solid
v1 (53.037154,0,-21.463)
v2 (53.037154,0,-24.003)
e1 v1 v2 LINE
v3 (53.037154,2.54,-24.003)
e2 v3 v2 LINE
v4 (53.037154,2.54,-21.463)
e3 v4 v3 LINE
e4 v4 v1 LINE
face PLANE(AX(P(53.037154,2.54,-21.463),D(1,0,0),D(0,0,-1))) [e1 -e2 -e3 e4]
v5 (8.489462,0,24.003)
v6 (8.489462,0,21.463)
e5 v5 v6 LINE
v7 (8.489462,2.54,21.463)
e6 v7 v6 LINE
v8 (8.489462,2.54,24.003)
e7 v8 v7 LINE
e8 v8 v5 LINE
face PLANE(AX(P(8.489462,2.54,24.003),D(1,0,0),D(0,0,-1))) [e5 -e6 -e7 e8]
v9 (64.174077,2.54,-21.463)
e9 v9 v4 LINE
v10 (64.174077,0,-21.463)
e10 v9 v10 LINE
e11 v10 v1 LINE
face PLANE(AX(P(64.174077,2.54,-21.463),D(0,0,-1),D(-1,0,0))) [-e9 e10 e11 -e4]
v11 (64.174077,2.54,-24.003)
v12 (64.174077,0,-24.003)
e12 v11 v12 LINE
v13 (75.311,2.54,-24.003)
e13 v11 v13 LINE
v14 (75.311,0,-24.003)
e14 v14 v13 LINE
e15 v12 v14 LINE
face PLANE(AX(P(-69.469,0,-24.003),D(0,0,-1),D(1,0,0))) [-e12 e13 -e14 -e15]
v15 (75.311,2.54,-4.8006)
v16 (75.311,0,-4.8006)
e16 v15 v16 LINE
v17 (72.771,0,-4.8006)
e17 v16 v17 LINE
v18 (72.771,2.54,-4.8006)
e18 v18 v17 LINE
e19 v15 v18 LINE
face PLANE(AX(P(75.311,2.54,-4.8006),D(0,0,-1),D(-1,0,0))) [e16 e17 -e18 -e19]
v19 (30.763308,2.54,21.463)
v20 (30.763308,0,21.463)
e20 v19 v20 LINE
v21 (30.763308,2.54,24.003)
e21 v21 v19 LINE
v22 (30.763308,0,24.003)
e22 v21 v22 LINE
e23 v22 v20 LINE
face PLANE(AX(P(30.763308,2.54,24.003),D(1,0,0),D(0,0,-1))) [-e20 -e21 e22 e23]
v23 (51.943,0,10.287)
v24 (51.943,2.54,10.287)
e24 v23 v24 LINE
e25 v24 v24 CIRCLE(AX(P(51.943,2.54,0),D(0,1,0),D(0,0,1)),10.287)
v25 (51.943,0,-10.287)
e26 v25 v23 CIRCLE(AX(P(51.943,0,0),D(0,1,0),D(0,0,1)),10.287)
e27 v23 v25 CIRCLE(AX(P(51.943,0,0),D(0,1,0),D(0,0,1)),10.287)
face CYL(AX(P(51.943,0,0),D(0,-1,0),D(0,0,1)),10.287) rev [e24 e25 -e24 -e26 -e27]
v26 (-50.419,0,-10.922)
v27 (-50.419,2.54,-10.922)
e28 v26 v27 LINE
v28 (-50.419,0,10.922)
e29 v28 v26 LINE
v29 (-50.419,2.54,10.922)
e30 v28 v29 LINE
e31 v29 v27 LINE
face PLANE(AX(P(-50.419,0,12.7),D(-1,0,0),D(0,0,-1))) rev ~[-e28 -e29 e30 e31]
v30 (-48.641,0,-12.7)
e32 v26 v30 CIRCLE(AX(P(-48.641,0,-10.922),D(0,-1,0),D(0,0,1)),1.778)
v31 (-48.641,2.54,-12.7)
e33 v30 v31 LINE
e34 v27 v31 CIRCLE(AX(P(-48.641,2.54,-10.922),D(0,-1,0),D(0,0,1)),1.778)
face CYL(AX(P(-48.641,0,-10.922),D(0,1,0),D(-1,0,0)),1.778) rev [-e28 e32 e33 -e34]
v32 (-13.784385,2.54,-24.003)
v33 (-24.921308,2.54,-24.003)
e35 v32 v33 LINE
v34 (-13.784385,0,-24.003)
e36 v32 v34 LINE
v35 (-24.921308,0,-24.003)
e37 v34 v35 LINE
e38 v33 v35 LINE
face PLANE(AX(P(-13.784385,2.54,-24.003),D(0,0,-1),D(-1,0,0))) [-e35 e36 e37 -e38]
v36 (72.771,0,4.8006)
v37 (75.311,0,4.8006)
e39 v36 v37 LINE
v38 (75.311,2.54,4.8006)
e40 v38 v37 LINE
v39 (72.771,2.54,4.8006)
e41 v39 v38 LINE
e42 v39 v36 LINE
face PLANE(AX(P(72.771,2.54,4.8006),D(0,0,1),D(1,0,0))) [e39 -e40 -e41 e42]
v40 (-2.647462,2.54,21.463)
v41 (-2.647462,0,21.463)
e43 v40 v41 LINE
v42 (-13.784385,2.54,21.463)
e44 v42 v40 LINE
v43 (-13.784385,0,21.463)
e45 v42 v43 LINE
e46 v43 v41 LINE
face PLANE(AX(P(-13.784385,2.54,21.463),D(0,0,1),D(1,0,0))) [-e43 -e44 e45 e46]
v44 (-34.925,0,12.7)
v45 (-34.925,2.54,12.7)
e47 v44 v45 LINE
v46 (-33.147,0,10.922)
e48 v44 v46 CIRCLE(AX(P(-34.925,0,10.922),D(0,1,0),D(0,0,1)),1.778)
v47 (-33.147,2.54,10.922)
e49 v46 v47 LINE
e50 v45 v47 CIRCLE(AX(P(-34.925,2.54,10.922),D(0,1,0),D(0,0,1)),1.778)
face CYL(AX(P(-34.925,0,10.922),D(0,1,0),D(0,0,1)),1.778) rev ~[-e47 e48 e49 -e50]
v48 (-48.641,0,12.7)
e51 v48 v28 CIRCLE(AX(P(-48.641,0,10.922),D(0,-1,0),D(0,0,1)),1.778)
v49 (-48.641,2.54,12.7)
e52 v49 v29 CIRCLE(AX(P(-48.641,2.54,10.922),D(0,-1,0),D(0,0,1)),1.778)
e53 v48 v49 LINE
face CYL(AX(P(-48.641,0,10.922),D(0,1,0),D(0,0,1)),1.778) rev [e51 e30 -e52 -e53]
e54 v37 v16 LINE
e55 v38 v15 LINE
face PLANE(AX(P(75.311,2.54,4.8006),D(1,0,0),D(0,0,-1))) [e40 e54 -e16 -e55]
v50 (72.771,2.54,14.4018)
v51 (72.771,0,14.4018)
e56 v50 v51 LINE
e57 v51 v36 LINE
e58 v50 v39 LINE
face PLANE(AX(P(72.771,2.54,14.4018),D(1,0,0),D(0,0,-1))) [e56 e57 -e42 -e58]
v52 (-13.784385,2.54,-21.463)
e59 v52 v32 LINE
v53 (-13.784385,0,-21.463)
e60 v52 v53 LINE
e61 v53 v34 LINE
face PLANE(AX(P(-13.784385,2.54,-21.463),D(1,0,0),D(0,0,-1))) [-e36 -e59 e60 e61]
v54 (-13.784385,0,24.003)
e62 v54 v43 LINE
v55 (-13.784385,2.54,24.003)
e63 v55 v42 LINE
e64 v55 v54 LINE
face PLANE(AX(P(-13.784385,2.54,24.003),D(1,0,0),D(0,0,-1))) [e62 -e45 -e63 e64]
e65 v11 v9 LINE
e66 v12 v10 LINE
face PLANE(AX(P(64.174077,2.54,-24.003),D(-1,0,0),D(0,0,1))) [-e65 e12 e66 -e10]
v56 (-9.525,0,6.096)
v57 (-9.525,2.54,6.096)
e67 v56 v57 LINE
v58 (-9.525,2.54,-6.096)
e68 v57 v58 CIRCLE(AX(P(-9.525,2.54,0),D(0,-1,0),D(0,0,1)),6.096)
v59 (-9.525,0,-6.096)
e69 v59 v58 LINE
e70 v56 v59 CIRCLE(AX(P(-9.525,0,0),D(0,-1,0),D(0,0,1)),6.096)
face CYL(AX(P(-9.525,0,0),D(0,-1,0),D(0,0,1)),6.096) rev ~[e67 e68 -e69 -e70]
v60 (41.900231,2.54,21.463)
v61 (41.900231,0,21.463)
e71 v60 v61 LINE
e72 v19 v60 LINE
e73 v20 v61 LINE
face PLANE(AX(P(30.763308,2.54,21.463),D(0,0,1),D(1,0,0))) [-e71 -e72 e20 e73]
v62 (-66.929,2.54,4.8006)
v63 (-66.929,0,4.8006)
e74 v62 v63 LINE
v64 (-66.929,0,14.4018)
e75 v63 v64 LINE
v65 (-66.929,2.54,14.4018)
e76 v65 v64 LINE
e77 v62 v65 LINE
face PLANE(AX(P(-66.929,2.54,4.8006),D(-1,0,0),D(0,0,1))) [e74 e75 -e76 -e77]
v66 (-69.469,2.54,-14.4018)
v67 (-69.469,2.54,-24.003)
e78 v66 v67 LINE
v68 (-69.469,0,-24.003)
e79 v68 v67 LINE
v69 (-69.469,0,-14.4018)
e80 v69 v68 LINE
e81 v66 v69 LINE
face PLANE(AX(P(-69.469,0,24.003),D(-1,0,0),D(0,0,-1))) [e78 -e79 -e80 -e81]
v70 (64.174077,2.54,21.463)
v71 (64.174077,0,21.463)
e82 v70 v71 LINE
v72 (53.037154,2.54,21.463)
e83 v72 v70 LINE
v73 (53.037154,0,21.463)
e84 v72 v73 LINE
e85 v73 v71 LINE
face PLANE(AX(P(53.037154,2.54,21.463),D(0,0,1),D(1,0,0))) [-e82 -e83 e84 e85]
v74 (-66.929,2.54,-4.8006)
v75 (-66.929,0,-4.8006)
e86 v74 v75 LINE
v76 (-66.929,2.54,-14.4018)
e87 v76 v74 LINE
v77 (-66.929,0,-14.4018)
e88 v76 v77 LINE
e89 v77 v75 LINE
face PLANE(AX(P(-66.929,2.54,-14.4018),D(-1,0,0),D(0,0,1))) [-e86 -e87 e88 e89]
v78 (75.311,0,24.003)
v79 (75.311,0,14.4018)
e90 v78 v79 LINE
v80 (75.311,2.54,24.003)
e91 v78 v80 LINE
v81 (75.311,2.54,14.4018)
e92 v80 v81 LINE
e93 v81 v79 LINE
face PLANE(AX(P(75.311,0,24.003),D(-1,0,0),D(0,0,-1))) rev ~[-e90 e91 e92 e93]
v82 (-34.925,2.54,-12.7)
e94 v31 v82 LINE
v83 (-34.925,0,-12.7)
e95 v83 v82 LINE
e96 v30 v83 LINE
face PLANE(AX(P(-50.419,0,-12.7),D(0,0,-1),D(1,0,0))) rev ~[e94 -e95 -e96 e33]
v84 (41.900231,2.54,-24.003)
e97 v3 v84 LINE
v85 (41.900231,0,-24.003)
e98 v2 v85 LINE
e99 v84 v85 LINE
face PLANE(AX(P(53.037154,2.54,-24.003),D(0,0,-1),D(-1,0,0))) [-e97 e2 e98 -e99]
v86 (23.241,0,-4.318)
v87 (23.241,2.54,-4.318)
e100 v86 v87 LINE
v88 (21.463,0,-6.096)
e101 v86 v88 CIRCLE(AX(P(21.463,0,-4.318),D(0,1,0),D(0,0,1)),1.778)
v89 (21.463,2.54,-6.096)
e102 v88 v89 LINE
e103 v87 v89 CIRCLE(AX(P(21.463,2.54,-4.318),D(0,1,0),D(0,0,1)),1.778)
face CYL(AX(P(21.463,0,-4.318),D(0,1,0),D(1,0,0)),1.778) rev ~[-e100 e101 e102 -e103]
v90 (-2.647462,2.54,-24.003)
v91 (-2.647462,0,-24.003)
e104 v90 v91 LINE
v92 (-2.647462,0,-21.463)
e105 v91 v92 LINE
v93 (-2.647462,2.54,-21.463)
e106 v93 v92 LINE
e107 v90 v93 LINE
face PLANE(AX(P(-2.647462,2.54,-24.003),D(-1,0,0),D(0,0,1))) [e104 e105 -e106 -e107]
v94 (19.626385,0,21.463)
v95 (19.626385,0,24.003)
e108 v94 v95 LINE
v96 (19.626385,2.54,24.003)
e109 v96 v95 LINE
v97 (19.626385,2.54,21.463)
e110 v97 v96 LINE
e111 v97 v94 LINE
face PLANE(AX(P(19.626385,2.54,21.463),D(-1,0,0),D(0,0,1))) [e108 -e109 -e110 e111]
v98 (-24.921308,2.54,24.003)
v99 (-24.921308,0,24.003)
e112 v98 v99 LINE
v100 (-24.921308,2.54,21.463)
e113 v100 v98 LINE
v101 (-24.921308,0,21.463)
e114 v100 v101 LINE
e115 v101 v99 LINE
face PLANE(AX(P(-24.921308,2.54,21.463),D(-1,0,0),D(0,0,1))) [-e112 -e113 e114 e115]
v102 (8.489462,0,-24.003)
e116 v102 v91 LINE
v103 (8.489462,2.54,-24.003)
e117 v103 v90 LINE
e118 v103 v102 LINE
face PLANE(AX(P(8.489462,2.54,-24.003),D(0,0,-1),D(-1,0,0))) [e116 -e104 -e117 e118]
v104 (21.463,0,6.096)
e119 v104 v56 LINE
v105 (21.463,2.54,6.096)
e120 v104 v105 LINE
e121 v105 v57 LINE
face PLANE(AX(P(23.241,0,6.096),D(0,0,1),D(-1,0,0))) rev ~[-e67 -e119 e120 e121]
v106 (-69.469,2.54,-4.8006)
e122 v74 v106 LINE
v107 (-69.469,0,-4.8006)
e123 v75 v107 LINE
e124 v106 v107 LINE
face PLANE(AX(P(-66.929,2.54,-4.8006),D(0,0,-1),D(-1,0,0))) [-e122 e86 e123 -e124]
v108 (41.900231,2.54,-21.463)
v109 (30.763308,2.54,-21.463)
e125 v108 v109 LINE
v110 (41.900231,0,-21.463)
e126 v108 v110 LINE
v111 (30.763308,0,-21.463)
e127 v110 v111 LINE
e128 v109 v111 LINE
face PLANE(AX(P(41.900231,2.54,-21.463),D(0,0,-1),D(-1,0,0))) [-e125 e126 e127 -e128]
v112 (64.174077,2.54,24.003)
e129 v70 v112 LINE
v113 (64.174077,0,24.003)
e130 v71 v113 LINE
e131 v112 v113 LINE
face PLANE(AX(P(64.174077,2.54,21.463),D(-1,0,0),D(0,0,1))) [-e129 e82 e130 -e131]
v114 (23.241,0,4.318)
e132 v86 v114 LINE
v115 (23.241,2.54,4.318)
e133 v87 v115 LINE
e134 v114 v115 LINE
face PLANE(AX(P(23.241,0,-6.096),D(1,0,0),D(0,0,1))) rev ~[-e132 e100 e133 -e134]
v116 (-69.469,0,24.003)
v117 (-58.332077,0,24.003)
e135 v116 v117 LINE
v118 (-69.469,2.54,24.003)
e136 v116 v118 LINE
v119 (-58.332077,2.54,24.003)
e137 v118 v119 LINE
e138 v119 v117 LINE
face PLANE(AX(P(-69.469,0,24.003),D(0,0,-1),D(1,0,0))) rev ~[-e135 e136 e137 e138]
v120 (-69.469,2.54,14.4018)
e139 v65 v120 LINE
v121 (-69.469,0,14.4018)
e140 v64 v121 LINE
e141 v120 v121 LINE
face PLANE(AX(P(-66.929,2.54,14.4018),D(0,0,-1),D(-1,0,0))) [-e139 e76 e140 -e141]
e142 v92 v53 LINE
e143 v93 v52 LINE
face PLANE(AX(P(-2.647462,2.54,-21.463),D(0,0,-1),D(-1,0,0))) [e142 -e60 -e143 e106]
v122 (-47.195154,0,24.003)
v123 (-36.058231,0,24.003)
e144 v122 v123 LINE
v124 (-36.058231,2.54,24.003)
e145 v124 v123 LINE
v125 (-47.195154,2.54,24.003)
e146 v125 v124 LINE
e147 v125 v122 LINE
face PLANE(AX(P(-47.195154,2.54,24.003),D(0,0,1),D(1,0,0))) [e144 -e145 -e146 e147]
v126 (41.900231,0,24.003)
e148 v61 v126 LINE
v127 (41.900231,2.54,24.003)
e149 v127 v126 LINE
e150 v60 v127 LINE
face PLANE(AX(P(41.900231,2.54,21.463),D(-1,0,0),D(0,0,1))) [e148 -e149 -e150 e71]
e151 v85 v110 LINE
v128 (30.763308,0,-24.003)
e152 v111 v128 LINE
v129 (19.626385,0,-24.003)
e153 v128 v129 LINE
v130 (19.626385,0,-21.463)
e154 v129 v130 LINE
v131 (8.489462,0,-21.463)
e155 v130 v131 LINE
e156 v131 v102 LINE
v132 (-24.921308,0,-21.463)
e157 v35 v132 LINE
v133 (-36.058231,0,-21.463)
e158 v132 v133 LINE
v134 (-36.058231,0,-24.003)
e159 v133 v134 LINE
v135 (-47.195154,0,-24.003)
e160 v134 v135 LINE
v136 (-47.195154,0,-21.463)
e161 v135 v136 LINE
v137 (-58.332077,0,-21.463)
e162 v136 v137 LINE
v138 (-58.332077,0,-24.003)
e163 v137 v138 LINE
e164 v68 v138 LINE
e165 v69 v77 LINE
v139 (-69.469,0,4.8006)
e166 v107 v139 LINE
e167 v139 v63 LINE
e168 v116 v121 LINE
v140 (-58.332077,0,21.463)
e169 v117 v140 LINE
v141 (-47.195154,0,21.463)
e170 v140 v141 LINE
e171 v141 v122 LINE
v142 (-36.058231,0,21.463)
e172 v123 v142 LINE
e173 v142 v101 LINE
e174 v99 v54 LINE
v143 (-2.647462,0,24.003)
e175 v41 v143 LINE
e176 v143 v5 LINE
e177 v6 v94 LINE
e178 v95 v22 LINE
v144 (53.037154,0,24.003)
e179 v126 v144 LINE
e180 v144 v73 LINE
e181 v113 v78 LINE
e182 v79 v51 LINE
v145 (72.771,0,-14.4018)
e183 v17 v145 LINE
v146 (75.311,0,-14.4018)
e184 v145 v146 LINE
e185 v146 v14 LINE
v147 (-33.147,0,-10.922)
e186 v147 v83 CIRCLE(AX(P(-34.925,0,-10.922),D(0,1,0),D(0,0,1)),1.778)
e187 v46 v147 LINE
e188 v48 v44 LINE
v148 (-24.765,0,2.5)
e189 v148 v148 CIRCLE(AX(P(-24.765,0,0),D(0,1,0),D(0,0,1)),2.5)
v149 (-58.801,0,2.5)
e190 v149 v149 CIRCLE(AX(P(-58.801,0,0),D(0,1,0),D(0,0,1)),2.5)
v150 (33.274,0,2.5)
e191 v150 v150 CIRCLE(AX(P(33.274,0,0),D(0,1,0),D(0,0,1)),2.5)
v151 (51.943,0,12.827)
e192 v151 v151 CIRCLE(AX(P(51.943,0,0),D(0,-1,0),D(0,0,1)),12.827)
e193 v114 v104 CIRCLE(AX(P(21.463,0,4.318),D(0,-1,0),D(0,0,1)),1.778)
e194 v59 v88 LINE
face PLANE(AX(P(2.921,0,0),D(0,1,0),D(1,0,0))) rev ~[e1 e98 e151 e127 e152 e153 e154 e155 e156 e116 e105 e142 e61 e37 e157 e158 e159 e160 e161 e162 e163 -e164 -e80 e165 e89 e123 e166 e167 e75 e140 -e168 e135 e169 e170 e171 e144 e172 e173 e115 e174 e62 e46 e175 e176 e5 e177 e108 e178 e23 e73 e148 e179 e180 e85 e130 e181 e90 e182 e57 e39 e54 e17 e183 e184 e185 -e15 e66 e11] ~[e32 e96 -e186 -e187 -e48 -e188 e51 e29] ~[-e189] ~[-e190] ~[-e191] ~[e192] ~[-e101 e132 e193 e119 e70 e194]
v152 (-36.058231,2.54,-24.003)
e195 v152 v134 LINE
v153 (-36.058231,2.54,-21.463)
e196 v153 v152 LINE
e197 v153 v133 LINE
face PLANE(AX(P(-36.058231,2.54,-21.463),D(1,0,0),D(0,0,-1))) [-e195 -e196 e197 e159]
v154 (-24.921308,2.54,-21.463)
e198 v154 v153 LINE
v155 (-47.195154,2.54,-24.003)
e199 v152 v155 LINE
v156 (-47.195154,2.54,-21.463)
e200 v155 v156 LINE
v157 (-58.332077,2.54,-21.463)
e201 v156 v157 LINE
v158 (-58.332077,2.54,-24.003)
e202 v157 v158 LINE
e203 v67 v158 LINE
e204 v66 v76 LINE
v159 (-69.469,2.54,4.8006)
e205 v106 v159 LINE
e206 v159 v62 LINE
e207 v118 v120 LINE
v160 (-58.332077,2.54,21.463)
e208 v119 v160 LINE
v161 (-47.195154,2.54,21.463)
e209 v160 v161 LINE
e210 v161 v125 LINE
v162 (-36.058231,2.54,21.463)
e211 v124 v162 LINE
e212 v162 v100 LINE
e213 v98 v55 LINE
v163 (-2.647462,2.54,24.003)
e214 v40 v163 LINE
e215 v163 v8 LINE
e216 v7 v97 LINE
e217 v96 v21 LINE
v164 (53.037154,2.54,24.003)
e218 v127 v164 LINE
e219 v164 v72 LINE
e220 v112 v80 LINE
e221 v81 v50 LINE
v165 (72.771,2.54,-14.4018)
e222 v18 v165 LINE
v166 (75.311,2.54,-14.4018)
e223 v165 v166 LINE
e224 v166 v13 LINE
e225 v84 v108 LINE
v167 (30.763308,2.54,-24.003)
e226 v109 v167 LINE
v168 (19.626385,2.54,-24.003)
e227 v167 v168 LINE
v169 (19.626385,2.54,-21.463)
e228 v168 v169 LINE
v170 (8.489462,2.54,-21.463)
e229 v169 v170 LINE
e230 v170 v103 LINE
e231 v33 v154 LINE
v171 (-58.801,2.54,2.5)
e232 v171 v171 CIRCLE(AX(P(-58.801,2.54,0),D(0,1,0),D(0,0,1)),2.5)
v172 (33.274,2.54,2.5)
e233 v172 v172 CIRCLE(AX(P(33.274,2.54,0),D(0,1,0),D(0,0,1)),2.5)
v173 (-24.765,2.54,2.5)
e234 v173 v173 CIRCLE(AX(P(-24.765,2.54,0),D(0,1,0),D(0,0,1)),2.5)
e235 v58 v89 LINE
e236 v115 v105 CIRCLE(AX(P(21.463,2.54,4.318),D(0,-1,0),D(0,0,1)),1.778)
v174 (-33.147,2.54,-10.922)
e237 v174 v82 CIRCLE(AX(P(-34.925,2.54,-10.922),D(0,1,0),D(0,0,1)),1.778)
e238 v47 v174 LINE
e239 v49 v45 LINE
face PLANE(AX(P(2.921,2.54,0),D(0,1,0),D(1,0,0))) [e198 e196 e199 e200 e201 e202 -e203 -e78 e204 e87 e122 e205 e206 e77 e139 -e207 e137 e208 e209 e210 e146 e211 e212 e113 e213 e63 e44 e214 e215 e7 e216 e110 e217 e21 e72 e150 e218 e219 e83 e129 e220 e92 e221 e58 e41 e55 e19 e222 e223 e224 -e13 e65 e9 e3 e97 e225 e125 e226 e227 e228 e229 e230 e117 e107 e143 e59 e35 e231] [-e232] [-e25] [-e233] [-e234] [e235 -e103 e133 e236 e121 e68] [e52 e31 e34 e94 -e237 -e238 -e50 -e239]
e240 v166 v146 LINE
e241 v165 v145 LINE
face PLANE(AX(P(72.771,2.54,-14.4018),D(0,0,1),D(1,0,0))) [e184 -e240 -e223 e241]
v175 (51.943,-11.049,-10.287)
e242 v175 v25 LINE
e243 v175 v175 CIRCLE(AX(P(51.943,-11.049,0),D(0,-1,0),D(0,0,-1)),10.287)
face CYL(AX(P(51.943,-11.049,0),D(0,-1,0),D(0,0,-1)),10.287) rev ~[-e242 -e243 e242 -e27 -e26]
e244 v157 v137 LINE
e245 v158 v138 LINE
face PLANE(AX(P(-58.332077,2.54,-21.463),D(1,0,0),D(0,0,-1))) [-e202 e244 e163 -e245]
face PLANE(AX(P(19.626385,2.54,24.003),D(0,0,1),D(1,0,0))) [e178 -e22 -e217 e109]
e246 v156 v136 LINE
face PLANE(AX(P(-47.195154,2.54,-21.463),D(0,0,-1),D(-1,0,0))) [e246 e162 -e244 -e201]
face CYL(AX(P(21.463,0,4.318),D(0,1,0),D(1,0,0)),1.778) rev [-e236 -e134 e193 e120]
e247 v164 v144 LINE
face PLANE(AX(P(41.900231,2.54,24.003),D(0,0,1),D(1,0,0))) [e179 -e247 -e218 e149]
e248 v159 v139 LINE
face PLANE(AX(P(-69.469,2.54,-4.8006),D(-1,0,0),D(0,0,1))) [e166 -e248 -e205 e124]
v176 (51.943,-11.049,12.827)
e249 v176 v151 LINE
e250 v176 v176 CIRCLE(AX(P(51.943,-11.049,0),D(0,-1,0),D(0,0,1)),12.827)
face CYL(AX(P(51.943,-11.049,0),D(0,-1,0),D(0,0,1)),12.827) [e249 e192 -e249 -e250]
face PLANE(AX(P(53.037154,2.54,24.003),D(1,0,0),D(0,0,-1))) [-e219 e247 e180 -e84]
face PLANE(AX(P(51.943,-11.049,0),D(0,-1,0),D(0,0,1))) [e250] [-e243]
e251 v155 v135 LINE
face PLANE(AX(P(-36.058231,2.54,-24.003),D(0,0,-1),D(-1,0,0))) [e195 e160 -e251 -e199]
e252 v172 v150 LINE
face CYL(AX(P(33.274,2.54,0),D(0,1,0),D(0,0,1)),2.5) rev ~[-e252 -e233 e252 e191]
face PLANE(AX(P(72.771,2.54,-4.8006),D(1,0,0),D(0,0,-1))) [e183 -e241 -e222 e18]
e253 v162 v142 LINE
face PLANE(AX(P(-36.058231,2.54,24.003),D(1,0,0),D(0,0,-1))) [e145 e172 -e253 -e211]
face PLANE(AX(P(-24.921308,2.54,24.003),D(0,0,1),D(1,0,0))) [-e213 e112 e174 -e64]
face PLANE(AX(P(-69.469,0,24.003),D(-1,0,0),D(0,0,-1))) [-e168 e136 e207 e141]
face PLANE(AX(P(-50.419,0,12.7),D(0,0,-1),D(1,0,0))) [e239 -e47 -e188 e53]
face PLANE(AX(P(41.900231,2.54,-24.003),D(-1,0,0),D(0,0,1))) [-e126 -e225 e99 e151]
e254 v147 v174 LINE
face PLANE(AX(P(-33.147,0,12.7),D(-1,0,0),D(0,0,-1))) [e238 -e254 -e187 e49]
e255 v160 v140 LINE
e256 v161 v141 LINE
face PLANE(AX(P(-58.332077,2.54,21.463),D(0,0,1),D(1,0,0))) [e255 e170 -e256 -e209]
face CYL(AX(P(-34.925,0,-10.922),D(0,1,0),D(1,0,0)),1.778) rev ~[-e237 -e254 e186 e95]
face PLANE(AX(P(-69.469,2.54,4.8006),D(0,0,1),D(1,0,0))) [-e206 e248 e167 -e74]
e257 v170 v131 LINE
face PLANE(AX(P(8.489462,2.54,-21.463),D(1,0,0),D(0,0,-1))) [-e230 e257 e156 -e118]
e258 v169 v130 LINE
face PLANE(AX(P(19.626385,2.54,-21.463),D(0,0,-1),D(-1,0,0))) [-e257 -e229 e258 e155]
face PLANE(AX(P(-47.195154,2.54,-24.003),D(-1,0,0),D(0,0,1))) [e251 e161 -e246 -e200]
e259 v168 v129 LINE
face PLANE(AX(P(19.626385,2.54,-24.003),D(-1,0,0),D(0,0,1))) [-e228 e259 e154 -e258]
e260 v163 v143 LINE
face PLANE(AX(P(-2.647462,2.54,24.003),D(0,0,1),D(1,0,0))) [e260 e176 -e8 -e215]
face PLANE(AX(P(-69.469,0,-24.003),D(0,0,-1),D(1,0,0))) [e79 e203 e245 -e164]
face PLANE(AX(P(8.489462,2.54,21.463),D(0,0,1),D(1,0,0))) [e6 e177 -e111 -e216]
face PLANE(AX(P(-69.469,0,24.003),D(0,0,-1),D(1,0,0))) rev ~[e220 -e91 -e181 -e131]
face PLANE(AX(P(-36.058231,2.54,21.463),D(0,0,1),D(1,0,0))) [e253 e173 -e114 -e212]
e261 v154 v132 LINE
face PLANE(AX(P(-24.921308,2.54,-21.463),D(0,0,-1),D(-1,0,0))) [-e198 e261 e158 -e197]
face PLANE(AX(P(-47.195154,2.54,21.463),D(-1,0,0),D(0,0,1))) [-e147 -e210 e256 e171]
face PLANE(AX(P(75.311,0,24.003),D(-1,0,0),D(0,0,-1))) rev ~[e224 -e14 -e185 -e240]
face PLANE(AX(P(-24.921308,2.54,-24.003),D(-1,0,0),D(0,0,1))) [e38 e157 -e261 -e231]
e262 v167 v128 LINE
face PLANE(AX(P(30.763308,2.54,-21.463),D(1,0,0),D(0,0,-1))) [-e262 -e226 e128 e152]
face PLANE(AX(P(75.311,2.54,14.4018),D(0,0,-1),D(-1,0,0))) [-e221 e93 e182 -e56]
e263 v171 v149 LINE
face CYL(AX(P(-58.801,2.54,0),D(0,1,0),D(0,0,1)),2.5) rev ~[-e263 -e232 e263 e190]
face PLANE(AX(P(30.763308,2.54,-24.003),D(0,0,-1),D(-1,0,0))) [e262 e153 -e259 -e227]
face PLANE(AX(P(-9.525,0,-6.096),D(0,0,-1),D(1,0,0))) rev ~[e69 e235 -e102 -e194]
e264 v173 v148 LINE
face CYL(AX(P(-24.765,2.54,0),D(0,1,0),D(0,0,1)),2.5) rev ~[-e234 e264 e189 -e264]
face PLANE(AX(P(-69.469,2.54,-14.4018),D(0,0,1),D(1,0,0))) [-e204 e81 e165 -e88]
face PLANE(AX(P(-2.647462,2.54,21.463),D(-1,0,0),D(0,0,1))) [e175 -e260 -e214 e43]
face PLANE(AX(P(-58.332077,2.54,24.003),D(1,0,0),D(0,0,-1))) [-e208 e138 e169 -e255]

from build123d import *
from build123d.topology import SkipClean

# Parameters (mm, degrees)
SKETCH1_W           = 144.78
SKETCH1_H           = 48.006
SKETCH1_R           = 10.287
SKETCH1_W_2         = 17.272
SKETCH1_H_2         = 25.4
BOSS_EXTRUDE1_DEPTH = 2.54
FILLET1_R           = 1.778
SKETCH2_OUTSIDE_W   = 177.29
SKETCH2_OUTSIDE_H   = 80.516
CUT_EXTRUDE1_DEPTH  = 2.54
SKETCH3_R           = 2.5
CUT_EXTRUDE2_DEPTH  = 80.084400042
BOSS_EXTRUDE2_START = 11.049
SKETCH4_R           = 12.827
SKETCH4_R_2         = 10.287
BOSS_EXTRUDE2_DEPTH = 11.049


with BuildPart() as part:
    # Sketch1 → Boss-Extrude1 (new body)
    with BuildSketch(Plane(origin=(0, 0, 0), x_dir=(1, 0, 0), z_dir=(0, 1, 0))):
        with Locations((2.921, 0)):
            Rectangle(SKETCH1_W, SKETCH1_H)
        with Locations(Location((51.943, 0, 0), (0, 0, 270))):
            Circle(SKETCH1_R, mode=Mode.SUBTRACT)
        with Locations((-41.783, 0)):
            Rectangle(SKETCH1_W_2, SKETCH1_H_2, mode=Mode.SUBTRACT)
        with BuildLine():
            Line((23.241, -6.096), (-9.525, -6.096))
            ThreePointArc((-9.525, -6.096), (-15.621, 0), (-9.525, 6.096))
            Line((-9.525, 6.096), (23.241, 6.096))
            Line((23.241, 6.096), (23.241, -6.096))
        make_face(mode=Mode.SUBTRACT)
    extrude(amount=BOSS_EXTRUDE1_DEPTH)

    # Fillet1
    fillet1_edges = [part.edges().sort_by_distance(p)[0] for p in [
        (23.241, 1.27, 6.096),
        (23.241, 1.27, -6.096),
        (-50.419, 1.27, -12.7),
        (-50.419, 1.27, 12.7),
        (-33.147, 1.27, 12.7),
        (-33.147, 1.27, -12.7),
    ]]
    fillet(fillet1_edges, radius=FILLET1_R)

    # Sketch2 outside → Cut-Extrude1 (cut)
    with BuildSketch(Plane(origin=(0, 2.54, 0), x_dir=(1, 0, 0), z_dir=(0, 1, 0))):
        with Locations((2.921, 0)):
            Rectangle(SKETCH2_OUTSIDE_W, SKETCH2_OUTSIDE_H)
        Polygon((-69.469, 24.003), (-69.469, 14.4018), (-66.929, 14.4018), (-66.929, 4.8006), (-69.469, 4.8006), (-69.469, -4.8006), (-66.929, -4.8006), (-66.929, -14.4018), (-69.469, -14.4018), (-69.469, -24.003), (-58.332076923, -24.003), (-58.332076923, -21.463), (-47.195153846, -21.463), (-47.195153846, -24.003), (-36.058230769, -24.003), (-36.058230769, -21.463), (-24.921307692, -21.463), (-24.921307692, -24.003), (-13.784384615, -24.003), (-13.784384615, -21.463), (-2.647461538, -21.463), (-2.647461538, -24.003), (8.489461538, -24.003), (8.489461538, -21.463), (19.626384615, -21.463), (19.626384615, -24.003), (30.763307692, -24.003), (30.763307692, -21.463), (41.900230769, -21.463), (41.900230769, -24.003), (53.037153846, -24.003), (53.037153846, -21.463), (64.174076923, -21.463), (64.174076923, -24.003), (75.311, -24.003), (75.311, -14.4018), (72.771, -14.4018), (72.771, -4.8006), (75.311, -4.8006), (75.311, 4.8006), (72.771, 4.8006), (72.771, 14.4018), (75.311, 14.4018), (75.311, 24.003), (64.174076923, 24.003), (64.174076923, 21.463), (53.037153846, 21.463), (53.037153846, 24.003), (41.900230769, 24.003), (41.900230769, 21.463), (30.763307692, 21.463), (30.763307692, 24.003), (19.626384615, 24.003), (19.626384615, 21.463), (8.489461538, 21.463), (8.489461538, 24.003), (-2.647461538, 24.003), (-2.647461538, 21.463), (-13.784384615, 21.463), (-13.784384615, 24.003), (-24.921307692, 24.003), (-24.921307692, 21.463), (-36.058230769, 21.463), (-36.058230769, 24.003), (-47.195153846, 24.003), (-47.195153846, 21.463), (-58.332076923, 21.463), (-58.332076923, 24.003), align=None, mode=Mode.SUBTRACT)
    extrude(amount=-CUT_EXTRUDE1_DEPTH, mode=Mode.SUBTRACT)

    # Sketch3 → Cut-Extrude2 (cut, through all)
    with BuildSketch(Plane(origin=(0, 2.54, 0), x_dir=(1, 0, 0), z_dir=(0, 1, 0))):
        with Locations(Location((-58.801, 0, 0), (0, 0, 270))):
            Circle(SKETCH3_R)
        with Locations(Location((-24.765, 0, 0), (0, 0, 270))):
            Circle(SKETCH3_R)
        with Locations(Location((33.274, 0, 0), (0, 0, 270))):
            Circle(SKETCH3_R)
    extrude(amount=-CUT_EXTRUDE2_DEPTH, mode=Mode.SUBTRACT)

    # Sketch4 → Boss-Extrude2 (add)
    with SkipClean():  # the faces are left unmerged after this step: merging them gives an invalid solid
        with BuildSketch(Plane.XZ.offset(BOSS_EXTRUDE2_START)):
            with Locations(Location((51.943, 0, 0), (0, 0, 90))):
                Circle(SKETCH4_R)
            with Locations(Location((51.943, 0, 0), (0, 0, 270))):
                Circle(SKETCH4_R_2, mode=Mode.SUBTRACT)
        extrude(amount=-BOSS_EXTRUDE2_DEPTH)


solid = part.part
